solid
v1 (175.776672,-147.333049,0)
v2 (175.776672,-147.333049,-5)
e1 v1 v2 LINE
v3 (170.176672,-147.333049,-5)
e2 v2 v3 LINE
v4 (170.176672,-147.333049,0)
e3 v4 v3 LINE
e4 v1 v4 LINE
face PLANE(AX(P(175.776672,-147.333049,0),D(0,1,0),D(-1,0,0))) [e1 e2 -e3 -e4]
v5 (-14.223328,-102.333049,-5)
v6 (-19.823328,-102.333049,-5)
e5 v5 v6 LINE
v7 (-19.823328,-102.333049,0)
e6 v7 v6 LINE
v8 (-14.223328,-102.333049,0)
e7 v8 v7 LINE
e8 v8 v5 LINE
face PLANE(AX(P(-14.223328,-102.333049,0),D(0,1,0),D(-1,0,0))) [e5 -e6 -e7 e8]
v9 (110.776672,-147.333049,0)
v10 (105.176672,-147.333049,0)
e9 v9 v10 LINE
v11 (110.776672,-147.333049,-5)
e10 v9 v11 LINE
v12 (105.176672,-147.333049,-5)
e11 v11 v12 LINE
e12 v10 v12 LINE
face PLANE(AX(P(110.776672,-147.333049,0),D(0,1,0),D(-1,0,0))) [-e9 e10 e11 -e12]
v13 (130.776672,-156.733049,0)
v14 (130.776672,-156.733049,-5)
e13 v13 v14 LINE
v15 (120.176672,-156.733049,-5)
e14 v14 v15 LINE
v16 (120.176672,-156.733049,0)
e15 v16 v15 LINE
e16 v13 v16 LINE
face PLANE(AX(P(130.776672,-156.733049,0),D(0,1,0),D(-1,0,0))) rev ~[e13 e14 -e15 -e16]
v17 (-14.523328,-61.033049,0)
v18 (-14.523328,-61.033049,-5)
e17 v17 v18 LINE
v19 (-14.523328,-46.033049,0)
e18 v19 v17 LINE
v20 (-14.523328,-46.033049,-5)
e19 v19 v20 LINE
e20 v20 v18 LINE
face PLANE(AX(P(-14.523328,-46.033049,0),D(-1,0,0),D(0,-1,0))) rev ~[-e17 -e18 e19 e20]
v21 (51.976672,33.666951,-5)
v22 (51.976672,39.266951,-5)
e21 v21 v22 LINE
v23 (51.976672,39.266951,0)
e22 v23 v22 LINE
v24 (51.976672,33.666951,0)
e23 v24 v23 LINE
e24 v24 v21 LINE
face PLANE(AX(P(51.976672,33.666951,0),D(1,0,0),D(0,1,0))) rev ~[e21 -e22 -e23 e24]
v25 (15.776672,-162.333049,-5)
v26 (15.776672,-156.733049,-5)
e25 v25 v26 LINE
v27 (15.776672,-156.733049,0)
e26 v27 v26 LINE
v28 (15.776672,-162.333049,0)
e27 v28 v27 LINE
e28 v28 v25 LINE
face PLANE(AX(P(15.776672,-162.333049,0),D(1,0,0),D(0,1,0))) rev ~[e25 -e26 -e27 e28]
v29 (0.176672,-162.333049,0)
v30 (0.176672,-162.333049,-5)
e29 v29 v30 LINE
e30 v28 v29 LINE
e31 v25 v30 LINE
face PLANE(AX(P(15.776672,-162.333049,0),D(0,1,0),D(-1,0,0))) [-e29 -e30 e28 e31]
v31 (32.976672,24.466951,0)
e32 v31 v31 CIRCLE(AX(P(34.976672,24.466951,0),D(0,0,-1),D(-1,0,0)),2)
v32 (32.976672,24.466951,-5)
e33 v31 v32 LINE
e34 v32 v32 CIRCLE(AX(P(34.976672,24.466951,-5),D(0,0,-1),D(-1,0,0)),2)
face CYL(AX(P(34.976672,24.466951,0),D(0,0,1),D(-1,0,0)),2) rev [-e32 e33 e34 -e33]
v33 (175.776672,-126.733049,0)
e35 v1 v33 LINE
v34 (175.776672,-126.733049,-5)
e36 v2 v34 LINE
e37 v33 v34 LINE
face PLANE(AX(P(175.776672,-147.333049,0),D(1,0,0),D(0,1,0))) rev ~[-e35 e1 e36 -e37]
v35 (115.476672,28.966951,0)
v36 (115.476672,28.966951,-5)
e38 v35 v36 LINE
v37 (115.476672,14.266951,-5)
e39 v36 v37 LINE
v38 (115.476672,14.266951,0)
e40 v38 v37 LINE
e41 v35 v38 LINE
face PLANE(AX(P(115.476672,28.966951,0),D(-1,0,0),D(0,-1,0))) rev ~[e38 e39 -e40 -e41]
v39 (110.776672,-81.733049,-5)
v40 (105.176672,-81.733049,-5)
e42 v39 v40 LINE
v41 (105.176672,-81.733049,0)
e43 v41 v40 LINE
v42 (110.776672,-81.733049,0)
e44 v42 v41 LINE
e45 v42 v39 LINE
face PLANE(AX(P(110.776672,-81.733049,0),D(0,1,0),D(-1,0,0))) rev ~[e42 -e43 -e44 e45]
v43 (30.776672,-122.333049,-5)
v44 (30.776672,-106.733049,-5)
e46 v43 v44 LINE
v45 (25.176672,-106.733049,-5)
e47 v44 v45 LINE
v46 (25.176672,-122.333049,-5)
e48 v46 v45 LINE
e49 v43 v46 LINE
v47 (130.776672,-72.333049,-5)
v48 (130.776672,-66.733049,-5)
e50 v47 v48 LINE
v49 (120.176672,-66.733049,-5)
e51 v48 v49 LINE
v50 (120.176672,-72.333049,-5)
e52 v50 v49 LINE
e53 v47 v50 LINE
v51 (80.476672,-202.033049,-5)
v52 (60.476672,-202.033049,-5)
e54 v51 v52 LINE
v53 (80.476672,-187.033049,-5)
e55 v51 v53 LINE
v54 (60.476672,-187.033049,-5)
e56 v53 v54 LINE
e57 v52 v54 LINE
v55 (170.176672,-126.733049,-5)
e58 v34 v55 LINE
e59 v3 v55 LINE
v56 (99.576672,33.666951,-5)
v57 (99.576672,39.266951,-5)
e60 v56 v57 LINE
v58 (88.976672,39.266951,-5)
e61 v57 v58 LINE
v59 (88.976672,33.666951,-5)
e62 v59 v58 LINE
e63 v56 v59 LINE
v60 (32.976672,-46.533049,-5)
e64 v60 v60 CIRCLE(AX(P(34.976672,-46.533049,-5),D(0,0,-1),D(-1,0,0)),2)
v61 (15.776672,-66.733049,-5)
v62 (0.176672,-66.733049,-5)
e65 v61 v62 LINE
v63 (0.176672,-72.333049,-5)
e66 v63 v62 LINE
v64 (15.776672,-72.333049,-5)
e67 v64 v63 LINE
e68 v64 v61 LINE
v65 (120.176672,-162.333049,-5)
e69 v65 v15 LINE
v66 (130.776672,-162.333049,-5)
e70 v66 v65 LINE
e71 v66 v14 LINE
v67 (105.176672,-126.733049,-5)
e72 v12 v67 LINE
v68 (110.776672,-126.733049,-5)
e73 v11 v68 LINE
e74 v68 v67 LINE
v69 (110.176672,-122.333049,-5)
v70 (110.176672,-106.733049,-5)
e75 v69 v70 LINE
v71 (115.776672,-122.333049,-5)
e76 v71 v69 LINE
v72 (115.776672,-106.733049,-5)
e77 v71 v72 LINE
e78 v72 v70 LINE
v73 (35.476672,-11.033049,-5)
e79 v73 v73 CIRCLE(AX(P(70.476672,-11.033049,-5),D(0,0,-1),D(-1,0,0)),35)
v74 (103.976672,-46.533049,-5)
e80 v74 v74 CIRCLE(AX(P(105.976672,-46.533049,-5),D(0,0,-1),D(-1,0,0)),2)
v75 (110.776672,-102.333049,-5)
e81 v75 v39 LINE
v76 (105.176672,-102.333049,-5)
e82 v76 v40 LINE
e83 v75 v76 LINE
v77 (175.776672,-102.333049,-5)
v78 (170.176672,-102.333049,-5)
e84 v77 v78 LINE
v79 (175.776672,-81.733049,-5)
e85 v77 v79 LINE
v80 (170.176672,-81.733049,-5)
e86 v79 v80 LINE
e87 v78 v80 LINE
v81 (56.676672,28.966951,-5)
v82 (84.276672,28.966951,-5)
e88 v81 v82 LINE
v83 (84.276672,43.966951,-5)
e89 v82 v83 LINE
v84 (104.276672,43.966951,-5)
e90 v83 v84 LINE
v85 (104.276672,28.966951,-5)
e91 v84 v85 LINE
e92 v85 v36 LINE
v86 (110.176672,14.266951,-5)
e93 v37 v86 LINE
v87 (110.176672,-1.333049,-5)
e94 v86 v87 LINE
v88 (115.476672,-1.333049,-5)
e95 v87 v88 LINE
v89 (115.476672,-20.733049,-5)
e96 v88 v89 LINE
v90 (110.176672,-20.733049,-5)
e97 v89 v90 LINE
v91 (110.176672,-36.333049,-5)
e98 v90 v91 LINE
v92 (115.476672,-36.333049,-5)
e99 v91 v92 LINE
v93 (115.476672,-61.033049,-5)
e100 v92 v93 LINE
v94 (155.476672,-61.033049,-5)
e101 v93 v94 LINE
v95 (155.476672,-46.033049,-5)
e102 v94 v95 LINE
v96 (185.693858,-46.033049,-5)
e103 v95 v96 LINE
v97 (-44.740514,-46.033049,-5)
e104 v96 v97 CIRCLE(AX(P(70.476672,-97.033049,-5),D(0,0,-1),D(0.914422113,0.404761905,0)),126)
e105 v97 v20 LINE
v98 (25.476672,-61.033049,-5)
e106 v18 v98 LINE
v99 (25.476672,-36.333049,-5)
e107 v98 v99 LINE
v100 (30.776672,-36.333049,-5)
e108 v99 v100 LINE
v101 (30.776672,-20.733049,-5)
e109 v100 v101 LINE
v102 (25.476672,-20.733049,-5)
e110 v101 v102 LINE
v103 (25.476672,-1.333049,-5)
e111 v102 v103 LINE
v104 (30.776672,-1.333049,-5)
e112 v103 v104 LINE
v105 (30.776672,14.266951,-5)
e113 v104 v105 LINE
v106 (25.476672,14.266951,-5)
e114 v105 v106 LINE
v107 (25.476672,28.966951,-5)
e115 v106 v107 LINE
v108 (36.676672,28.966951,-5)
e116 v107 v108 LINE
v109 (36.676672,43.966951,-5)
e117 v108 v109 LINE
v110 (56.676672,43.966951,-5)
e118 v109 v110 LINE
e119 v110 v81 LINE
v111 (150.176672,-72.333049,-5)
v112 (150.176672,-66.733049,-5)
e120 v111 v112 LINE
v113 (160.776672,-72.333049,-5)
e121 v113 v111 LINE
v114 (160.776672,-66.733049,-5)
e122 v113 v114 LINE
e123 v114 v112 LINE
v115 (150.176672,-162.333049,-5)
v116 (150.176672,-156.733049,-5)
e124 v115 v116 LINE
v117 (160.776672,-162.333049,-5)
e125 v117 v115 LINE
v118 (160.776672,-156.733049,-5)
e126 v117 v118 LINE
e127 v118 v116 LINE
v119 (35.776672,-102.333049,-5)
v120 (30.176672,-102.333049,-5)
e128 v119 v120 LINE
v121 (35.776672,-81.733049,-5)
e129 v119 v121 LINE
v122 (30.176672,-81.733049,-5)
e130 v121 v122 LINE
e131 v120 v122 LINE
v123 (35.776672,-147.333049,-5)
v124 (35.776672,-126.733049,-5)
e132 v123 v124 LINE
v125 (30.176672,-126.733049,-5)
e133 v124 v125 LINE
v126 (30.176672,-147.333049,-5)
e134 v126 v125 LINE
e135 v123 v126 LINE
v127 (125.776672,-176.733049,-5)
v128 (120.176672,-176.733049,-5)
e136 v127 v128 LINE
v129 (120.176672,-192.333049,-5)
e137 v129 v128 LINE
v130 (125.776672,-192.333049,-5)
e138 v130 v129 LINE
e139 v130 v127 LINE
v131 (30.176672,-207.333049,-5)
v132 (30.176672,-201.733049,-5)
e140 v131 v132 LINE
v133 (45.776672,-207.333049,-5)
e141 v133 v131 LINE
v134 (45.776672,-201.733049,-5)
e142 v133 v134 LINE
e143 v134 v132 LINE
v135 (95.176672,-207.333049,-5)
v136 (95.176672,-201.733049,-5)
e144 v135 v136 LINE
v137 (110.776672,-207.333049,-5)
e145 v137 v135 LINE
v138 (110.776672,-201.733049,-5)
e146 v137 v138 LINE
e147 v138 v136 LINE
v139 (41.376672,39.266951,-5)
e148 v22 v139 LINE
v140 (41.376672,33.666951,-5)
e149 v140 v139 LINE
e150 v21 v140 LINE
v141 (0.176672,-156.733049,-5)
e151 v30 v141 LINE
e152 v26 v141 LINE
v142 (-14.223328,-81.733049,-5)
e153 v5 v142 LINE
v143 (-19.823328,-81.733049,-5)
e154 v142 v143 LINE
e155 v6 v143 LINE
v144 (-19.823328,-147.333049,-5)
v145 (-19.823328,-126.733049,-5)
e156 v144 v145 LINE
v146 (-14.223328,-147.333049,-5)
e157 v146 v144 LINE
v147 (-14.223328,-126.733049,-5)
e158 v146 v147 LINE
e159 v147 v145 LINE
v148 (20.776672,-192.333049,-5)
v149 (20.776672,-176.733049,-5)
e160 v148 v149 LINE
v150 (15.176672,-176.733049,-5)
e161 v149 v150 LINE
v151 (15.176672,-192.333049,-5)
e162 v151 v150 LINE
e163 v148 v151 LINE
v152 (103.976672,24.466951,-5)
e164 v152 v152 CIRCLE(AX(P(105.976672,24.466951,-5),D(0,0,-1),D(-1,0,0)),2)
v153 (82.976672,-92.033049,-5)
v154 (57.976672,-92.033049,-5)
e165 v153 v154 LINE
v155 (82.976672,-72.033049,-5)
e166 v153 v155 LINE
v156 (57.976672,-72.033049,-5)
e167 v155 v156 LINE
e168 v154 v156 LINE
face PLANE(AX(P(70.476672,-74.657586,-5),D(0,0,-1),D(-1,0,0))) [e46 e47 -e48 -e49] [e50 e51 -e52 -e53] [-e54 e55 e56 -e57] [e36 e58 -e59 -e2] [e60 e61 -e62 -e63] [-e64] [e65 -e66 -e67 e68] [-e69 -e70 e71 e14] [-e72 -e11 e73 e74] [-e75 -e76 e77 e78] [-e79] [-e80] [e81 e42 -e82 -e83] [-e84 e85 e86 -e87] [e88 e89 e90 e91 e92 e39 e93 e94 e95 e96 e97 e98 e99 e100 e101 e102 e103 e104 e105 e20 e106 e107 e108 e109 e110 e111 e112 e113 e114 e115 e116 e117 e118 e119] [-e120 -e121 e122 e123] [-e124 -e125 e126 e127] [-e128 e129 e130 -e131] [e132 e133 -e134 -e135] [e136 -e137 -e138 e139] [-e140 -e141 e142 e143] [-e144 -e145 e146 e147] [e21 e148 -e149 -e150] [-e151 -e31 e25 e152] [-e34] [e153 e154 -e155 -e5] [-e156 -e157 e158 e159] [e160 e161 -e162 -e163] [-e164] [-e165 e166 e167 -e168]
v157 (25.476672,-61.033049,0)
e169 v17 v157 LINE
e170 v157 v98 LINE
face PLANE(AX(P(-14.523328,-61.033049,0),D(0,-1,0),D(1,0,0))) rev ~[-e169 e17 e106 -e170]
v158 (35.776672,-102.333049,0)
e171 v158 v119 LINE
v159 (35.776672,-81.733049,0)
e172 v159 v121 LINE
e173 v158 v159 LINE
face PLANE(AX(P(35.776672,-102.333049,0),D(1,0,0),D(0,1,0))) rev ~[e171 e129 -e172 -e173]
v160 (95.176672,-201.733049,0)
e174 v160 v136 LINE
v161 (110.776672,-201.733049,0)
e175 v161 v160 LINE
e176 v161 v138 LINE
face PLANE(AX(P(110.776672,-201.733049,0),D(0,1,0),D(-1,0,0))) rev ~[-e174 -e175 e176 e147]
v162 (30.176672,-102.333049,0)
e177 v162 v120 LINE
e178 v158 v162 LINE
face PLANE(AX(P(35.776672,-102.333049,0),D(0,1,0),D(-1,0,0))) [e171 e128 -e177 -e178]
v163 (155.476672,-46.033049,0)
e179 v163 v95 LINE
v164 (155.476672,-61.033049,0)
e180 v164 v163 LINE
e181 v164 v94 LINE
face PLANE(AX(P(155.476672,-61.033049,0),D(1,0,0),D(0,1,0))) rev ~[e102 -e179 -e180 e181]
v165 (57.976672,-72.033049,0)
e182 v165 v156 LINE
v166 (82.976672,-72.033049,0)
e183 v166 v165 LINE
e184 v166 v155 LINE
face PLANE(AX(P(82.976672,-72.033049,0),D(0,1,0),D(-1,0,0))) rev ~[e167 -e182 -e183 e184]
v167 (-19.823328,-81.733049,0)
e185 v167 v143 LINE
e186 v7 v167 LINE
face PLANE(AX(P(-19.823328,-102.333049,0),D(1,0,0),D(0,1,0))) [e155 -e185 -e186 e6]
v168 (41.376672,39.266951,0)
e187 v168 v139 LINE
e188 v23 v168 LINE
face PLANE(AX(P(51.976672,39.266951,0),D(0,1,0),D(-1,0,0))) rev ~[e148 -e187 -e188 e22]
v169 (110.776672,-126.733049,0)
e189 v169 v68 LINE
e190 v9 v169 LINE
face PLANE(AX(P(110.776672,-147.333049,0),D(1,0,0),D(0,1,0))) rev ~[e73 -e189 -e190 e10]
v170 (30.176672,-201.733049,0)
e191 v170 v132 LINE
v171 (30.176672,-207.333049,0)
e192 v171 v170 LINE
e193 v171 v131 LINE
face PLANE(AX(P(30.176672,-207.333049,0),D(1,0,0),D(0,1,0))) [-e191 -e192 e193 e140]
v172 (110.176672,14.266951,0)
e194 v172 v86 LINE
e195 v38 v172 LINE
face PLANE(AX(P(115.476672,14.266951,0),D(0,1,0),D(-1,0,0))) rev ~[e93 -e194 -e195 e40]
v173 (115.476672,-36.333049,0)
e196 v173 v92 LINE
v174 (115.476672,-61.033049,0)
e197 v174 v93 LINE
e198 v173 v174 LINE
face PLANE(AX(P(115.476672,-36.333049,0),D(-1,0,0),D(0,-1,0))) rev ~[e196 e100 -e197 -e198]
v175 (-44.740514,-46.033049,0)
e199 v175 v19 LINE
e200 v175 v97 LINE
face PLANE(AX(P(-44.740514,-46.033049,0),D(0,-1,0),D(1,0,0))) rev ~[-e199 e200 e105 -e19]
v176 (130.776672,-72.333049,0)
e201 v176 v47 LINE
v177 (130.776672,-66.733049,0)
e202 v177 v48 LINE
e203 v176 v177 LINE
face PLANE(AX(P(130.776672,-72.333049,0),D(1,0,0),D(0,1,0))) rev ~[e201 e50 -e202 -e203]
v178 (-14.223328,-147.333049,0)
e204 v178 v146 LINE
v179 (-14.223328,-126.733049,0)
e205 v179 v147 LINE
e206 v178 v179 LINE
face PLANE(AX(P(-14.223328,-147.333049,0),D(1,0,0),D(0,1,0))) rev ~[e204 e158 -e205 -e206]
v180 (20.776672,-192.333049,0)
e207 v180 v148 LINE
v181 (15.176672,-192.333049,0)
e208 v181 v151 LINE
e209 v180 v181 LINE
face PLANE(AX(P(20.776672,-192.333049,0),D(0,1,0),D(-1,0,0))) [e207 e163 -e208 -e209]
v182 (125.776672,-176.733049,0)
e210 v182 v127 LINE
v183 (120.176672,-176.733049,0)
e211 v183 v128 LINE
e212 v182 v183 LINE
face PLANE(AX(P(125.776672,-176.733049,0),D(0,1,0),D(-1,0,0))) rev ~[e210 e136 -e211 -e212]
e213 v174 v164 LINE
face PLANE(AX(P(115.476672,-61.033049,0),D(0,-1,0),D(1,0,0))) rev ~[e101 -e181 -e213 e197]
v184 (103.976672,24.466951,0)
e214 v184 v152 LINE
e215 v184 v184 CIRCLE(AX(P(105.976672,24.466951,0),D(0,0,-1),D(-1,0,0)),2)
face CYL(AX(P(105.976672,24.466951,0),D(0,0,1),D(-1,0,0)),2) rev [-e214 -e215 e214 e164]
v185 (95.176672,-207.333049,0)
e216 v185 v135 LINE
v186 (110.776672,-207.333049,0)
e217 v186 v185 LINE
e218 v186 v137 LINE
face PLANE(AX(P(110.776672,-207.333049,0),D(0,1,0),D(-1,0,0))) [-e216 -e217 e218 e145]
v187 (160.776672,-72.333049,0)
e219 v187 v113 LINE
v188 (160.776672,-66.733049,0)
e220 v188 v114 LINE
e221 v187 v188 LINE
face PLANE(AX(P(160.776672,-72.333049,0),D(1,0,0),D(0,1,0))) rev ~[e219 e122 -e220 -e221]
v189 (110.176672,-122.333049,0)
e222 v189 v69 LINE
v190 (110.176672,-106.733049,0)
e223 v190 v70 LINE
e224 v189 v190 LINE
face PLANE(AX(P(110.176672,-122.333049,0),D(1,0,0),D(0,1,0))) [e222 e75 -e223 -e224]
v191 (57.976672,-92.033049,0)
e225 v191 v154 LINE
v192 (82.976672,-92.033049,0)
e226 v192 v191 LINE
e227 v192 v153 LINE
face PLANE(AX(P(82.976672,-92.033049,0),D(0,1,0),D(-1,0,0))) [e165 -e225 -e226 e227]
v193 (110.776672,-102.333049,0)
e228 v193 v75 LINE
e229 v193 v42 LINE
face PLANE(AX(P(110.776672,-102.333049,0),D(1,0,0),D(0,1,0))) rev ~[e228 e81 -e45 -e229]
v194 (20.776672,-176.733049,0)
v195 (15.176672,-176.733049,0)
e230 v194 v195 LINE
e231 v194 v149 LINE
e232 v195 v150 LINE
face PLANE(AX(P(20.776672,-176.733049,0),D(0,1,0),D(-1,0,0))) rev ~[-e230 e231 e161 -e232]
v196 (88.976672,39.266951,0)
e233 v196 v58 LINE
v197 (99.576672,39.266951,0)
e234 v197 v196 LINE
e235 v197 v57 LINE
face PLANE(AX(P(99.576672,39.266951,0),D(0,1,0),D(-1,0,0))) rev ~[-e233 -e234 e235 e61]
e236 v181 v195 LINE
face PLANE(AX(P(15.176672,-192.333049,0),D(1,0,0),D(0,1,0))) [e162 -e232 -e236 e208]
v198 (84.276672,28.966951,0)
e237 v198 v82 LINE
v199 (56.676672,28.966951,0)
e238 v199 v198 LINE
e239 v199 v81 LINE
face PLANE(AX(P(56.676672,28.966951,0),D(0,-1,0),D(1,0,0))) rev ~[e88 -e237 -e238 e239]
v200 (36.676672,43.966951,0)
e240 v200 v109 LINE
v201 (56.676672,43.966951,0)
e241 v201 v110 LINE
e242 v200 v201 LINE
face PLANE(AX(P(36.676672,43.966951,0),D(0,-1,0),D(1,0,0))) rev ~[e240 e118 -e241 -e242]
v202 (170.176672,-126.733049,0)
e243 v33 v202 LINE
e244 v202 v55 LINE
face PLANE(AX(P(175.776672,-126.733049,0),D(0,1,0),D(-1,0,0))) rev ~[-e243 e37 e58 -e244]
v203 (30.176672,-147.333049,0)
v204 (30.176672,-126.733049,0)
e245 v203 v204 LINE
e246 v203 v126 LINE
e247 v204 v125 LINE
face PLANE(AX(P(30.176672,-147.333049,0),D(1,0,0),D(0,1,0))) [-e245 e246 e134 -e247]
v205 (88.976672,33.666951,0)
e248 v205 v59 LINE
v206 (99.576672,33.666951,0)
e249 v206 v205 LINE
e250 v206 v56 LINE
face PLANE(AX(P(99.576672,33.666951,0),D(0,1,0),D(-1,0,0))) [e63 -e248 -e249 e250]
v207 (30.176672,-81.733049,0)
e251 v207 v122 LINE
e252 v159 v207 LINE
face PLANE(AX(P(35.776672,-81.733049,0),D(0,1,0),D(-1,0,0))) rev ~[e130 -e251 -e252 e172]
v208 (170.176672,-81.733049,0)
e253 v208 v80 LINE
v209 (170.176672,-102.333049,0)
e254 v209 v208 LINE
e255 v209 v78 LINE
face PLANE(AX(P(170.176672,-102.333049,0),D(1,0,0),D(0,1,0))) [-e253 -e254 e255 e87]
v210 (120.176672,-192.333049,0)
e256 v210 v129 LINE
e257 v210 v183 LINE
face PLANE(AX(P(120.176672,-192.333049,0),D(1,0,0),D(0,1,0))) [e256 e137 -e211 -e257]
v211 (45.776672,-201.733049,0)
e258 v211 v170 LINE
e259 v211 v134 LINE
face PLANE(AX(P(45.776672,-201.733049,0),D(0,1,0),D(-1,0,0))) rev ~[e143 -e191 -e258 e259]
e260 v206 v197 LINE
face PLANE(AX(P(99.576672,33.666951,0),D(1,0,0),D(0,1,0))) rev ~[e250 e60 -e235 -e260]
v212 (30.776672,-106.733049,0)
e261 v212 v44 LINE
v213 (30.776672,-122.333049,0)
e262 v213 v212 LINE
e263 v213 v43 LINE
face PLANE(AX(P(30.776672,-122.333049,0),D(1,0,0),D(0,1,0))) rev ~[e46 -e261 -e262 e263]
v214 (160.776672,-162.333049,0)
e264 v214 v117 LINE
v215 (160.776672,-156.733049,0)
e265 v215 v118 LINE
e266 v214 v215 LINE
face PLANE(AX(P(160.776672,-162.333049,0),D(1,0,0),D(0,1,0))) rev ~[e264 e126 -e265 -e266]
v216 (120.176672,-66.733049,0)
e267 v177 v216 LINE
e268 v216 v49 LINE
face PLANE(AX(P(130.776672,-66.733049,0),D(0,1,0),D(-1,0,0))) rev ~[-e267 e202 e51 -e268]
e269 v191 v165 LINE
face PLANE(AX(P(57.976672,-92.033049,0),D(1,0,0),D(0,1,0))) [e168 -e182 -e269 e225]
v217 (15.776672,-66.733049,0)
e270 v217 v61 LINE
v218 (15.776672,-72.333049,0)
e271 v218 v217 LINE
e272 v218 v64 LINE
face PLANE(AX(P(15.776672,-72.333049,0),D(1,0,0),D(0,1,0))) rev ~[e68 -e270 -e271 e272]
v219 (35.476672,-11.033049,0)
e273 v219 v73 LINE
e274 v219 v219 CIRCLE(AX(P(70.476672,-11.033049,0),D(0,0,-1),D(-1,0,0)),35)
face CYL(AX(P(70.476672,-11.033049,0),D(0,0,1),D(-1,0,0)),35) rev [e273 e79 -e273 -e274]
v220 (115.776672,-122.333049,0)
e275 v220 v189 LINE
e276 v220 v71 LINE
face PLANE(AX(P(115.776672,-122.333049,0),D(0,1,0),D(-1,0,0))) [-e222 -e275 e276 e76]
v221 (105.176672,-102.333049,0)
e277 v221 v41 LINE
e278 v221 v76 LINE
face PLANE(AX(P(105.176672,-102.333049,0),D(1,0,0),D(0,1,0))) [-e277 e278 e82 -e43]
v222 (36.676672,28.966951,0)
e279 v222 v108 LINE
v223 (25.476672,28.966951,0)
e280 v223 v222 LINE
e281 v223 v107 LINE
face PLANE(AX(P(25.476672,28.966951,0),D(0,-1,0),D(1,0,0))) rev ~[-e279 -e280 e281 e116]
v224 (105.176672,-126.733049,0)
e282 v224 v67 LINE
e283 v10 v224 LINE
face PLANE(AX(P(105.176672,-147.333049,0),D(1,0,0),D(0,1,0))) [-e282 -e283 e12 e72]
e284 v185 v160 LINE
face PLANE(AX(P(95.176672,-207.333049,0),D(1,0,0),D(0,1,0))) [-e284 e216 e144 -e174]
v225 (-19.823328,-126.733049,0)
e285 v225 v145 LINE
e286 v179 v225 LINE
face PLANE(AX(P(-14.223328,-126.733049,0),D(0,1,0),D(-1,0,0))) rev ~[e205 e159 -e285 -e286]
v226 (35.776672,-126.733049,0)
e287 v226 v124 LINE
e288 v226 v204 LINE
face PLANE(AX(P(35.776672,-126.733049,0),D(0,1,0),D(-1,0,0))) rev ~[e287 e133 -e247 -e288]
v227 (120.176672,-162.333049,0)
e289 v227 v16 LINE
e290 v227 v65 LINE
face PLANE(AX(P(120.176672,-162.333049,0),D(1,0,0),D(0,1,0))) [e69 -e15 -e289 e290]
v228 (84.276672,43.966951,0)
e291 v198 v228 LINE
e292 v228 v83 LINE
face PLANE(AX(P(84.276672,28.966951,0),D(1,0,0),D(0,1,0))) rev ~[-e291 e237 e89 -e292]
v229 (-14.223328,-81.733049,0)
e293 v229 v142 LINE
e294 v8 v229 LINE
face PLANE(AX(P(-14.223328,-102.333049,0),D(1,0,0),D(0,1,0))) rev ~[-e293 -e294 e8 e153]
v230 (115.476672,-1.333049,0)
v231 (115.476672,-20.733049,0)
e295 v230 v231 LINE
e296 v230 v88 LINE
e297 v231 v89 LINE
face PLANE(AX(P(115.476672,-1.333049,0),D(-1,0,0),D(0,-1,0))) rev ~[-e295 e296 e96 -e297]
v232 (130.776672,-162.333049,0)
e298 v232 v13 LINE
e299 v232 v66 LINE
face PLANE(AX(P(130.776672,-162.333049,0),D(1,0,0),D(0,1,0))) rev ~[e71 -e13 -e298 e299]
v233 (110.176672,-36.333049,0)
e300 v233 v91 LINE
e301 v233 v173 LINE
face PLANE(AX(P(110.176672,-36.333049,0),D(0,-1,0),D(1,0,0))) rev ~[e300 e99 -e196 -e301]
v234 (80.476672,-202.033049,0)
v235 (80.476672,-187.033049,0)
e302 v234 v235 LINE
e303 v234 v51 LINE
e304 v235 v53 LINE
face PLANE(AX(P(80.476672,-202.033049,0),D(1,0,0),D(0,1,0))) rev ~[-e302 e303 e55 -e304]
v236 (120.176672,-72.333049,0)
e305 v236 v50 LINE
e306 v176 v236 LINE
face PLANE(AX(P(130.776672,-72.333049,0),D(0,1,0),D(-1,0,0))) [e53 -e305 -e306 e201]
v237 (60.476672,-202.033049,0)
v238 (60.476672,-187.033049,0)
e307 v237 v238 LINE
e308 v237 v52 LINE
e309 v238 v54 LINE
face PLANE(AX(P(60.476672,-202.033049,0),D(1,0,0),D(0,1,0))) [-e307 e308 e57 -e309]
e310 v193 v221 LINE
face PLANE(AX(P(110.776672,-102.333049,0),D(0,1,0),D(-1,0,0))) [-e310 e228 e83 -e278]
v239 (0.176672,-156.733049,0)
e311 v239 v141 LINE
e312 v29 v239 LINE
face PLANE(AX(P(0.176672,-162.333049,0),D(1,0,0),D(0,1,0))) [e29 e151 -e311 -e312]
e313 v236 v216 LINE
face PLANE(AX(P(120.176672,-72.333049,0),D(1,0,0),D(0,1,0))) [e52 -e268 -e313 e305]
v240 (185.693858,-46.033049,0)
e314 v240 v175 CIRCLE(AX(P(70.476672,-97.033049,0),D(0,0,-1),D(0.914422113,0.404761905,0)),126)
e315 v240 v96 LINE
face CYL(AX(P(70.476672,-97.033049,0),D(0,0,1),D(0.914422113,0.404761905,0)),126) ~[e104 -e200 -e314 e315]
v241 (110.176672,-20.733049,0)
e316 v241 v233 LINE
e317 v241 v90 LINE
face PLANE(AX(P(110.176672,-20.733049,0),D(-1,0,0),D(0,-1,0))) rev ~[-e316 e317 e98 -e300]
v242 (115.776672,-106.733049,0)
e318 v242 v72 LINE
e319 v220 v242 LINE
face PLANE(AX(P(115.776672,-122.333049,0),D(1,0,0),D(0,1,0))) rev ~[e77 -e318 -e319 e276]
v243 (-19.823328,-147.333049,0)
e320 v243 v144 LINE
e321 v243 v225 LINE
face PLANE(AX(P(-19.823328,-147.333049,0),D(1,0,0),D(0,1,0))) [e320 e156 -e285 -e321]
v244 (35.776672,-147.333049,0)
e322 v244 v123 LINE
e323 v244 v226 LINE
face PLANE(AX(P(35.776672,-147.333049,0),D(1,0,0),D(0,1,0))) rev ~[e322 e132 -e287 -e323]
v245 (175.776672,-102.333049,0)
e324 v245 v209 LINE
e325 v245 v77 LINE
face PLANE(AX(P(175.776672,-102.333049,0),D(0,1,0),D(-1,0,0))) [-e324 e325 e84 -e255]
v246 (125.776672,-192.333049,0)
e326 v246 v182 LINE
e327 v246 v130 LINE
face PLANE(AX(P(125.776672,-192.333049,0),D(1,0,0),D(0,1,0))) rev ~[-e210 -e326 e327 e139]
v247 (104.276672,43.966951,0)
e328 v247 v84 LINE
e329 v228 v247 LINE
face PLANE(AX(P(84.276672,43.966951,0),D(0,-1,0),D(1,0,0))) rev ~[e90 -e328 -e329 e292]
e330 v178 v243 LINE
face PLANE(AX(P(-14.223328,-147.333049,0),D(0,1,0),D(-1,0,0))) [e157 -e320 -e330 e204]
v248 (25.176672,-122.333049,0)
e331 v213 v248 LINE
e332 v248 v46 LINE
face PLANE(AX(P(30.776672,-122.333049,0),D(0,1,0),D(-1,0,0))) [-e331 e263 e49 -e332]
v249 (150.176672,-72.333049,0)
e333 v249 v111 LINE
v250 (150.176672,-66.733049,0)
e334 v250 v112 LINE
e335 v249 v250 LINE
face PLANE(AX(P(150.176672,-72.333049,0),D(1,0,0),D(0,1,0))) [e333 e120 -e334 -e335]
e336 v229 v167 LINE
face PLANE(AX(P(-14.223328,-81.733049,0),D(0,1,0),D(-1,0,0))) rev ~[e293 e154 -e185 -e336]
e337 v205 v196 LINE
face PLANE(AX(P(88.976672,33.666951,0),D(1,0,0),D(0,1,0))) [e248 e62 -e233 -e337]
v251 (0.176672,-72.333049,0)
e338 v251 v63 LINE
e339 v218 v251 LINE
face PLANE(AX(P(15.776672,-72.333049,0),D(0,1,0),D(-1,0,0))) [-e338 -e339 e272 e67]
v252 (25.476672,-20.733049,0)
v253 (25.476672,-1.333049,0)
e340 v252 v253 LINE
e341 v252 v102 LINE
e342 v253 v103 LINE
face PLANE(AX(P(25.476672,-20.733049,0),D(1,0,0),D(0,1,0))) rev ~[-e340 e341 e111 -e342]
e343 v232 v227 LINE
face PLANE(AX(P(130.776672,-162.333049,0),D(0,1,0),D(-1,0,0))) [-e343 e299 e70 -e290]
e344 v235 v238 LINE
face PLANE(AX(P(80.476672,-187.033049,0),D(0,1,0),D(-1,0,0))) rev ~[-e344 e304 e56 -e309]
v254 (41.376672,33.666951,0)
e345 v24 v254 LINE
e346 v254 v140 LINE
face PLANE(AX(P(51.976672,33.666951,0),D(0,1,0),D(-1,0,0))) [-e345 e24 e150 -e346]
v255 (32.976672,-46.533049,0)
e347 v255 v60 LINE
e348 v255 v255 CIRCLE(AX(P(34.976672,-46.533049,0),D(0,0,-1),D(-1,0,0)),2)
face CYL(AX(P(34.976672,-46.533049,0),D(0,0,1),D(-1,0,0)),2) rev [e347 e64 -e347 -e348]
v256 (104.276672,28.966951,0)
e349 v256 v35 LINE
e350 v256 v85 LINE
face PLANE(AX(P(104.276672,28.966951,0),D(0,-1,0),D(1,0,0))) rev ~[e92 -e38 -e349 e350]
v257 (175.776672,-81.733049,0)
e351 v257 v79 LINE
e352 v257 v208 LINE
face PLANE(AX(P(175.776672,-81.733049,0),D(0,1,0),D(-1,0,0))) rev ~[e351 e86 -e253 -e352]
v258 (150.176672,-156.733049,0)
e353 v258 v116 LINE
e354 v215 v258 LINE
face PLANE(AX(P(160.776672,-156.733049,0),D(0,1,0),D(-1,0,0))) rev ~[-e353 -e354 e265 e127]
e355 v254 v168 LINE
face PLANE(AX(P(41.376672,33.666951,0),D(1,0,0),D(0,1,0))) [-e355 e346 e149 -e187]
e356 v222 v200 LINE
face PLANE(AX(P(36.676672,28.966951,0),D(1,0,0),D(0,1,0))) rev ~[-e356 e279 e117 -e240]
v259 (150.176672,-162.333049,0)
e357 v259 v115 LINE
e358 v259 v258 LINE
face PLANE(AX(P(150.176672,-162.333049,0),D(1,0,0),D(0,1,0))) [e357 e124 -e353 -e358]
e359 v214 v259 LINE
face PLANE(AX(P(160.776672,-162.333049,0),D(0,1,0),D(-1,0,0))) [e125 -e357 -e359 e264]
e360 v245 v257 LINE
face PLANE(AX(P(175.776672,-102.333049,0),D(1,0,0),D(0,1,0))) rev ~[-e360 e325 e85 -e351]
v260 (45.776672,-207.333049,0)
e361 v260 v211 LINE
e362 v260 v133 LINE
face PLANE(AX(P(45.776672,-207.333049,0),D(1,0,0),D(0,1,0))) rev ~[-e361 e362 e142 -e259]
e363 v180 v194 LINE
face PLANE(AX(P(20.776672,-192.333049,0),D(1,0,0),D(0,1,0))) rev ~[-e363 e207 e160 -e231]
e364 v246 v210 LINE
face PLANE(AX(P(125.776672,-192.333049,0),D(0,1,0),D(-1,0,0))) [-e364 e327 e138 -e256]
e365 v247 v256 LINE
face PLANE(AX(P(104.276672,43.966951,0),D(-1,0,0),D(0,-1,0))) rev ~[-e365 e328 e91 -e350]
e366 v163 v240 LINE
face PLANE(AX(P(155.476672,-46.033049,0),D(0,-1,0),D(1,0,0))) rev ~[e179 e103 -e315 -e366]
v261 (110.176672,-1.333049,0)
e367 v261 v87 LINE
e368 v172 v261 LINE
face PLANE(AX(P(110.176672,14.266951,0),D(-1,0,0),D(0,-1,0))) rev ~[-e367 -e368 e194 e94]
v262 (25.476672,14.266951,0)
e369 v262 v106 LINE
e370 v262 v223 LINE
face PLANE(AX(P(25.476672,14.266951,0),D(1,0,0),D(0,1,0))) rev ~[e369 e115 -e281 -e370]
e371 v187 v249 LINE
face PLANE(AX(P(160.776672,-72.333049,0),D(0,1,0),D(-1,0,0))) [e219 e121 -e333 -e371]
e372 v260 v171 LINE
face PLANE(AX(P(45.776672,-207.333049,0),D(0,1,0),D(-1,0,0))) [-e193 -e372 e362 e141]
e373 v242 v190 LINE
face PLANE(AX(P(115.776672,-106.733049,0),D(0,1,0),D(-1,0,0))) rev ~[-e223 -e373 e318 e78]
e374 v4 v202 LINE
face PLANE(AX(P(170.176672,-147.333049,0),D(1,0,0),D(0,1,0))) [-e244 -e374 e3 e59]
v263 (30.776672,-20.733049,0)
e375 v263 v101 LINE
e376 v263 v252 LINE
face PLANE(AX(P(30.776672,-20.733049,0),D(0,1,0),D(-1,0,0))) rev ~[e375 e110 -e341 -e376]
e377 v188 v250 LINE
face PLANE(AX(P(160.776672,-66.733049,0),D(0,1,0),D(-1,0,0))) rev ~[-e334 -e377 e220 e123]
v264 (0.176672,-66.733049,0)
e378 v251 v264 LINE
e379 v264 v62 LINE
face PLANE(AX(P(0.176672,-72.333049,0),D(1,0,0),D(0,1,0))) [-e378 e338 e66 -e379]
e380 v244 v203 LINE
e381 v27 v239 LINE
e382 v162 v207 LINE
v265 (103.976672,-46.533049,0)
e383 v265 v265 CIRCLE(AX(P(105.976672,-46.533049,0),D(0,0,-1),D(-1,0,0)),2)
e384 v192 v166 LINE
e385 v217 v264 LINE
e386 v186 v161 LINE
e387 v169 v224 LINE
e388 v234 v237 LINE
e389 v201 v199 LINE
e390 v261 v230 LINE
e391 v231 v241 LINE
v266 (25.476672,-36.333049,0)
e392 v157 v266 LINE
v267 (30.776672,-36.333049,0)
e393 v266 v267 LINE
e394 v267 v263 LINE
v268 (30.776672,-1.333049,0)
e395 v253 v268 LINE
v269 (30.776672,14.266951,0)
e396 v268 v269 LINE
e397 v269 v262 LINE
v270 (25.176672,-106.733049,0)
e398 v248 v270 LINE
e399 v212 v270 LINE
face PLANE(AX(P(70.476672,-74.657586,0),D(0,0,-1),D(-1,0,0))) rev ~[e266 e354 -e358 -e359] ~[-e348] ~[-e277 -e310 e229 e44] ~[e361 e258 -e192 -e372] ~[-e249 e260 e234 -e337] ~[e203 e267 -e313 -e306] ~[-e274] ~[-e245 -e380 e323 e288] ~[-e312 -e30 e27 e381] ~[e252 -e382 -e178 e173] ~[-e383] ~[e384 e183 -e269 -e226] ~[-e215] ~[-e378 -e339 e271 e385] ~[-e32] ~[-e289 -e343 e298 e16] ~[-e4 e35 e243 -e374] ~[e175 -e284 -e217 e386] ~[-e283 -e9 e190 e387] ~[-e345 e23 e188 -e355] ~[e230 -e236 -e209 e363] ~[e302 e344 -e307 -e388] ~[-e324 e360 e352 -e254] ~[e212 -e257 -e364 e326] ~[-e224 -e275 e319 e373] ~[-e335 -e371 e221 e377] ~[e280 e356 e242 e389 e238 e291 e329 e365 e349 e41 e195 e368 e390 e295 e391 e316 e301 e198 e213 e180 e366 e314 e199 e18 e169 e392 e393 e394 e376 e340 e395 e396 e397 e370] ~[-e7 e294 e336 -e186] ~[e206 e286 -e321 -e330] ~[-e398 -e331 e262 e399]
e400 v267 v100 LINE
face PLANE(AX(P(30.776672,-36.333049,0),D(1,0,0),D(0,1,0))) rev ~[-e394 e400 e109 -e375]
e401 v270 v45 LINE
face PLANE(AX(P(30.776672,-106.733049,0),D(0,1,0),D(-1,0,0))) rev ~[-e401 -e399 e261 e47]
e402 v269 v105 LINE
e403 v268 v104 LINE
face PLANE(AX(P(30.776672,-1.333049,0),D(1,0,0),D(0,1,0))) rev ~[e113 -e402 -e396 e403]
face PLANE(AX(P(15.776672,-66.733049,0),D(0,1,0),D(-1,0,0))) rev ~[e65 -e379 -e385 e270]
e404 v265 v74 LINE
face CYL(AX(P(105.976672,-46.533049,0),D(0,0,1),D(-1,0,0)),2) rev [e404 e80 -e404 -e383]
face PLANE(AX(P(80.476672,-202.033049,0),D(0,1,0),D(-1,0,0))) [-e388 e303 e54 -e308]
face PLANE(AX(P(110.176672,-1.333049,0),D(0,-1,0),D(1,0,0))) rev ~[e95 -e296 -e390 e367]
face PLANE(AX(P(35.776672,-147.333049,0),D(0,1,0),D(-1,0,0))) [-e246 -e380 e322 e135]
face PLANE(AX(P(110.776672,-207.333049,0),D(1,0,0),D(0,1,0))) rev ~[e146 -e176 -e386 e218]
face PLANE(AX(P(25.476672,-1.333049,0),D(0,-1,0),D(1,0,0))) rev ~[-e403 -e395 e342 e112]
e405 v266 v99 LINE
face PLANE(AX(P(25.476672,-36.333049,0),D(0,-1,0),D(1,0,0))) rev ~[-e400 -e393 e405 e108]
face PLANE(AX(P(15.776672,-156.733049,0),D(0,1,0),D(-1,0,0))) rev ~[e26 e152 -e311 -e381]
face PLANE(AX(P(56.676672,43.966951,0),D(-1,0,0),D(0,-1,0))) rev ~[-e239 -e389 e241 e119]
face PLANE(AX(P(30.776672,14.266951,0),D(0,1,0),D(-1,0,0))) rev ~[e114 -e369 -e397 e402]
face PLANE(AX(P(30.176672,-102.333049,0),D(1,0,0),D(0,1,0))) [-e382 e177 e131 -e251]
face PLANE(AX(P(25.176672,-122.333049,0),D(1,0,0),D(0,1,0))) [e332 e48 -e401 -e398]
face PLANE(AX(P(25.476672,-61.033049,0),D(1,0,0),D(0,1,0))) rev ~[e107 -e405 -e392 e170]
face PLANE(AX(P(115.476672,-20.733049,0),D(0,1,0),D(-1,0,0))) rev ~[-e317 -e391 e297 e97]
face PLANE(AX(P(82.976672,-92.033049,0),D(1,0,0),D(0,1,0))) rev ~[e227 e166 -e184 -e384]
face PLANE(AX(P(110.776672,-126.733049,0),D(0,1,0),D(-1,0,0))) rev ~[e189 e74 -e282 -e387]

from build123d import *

# Parameters (mm, degrees)
SKETCH1_R           = 35
SKETCH1_R_2         = 2
SKETCH1_W           = 20
SKETCH1_H           = 15
SKETCH1_W_2         = 25
SKETCH1_H_2         = 20
SKETCH1_W_3         = 10.6
SKETCH1_H_3         = 5.6
SKETCH1_W_4         = 15.6
SKETCH1_W_5         = 5.6
SKETCH1_H_4         = 20.6
SKETCH1_H_5         = 15.6
BOSS_EXTRUDE1_DEPTH = 5


with BuildPart() as part:
    # Sketch1 → Boss-Extrude1 (new body)
    with BuildSketch(Plane(origin=(0, 0, 0), x_dir=(-1, 0, 0), z_dir=(0, 0, -1))):
        with BuildLine():
            Line((-25.476672243, 28.966950724), (-36.676672243, 28.966950724))
            Line((-36.676672243, 28.966950724), (-36.676672243, 43.966950724))
            Line((-36.676672243, 43.966950724), (-56.676672243, 43.966950724))
            Line((-56.676672243, 43.966950724), (-56.676672243, 28.966950724))
            Line((-56.676672243, 28.966950724), (-84.276672243, 28.966950724))
            Line((-84.276672243, 28.966950724), (-84.276672243, 43.966950724))
            Line((-84.276672243, 43.966950724), (-104.276672243, 43.966950724))
            Line((-104.276672243, 43.966950724), (-104.276672243, 28.966950724))
            Line((-104.276672243, 28.966950724), (-115.476672243, 28.966950724))
            Line((-115.476672243, 28.966950724), (-115.476672243, 14.266950724))
            Line((-115.476672243, 14.266950724), (-110.176672243, 14.266950724))
            Line((-110.176672243, 14.266950724), (-110.176672243, -1.333049276))
            Line((-110.176672243, -1.333049276), (-115.476672243, -1.333049276))
            Line((-115.476672243, -1.333049276), (-115.476672243, -20.733049276))
            Line((-115.476672243, -20.733049276), (-110.176672243, -20.733049276))
            Line((-110.176672243, -20.733049276), (-110.176672243, -36.333049276))
            Line((-110.176672243, -36.333049276), (-115.476672243, -36.333049276))
            Line((-115.476672243, -36.333049276), (-115.476672243, -61.033049276))
            Line((-115.476672243, -61.033049276), (-155.476672243, -61.033049276))
            Line((-155.476672243, -61.033049276), (-155.476672243, -46.033049276))
            Line((-155.476672243, -46.033049276), (-185.693858461, -46.033049276))
            ThreePointArc((-185.693858461, -46.033049276), (-70.476672243, -223.033049276), (44.740513975, -46.033049276))
            Line((44.740513975, -46.033049276), (14.523327757, -46.033049276))
            Line((14.523327757, -46.033049276), (14.523327757, -61.033049276))
            Line((14.523327757, -61.033049276), (-25.476672243, -61.033049276))
            Line((-25.476672243, -61.033049276), (-25.476672243, -36.333049276))
            Line((-25.476672243, -36.333049276), (-30.776672243, -36.333049276))
            Line((-30.776672243, -36.333049276), (-30.776672243, -20.733049276))
            Line((-30.776672243, -20.733049276), (-25.476672243, -20.733049276))
            Line((-25.476672243, -20.733049276), (-25.476672243, -1.333049276))
            Line((-25.476672243, -1.333049276), (-30.776672243, -1.333049276))
            Line((-30.776672243, -1.333049276), (-30.776672243, 14.266950724))
            Line((-30.776672243, 14.266950724), (-25.476672243, 14.266950724))
            Line((-25.476672243, 14.266950724), (-25.476672243, 28.966950724))
        make_face()
        with Locations((-70.476672243, -11.033049276)):
            Circle(SKETCH1_R, mode=Mode.SUBTRACT)
        with Locations((-34.976672243, 24.466950724)):
            Circle(SKETCH1_R_2, mode=Mode.SUBTRACT)
        with Locations((-105.976672243, 24.466950724)):
            Circle(SKETCH1_R_2, mode=Mode.SUBTRACT)
        with Locations((-105.976672243, -46.533049276)):
            Circle(SKETCH1_R_2, mode=Mode.SUBTRACT)
        with Locations((-34.976672243, -46.533049276)):
            Circle(SKETCH1_R_2, mode=Mode.SUBTRACT)
        with Locations((-70.476672243, -194.533049276)):
            Rectangle(SKETCH1_W, SKETCH1_H, mode=Mode.SUBTRACT)
        with Locations((-70.476672243, -82.033049276)):
            Rectangle(SKETCH1_W_2, SKETCH1_H_2, mode=Mode.SUBTRACT)
        with Locations((-46.676672243, 36.466950724)):
            Rectangle(SKETCH1_W_3, SKETCH1_H_3, mode=Mode.SUBTRACT)
        with Locations((-94.276672243, 36.466950724)):
            Rectangle(SKETCH1_W_3, SKETCH1_H_3, mode=Mode.SUBTRACT)
        with Locations((-7.976672243, -69.533049276)):
            Rectangle(SKETCH1_W_4, SKETCH1_H_3, mode=Mode.SUBTRACT)
        with Locations((17.023327757, -92.033049276)):
            Rectangle(SKETCH1_W_5, SKETCH1_H_4, mode=Mode.SUBTRACT)
        with Locations((-32.976672243, -92.033049276)):
            Rectangle(SKETCH1_W_5, SKETCH1_H_4, mode=Mode.SUBTRACT)
        with Locations((-27.976672243, -114.533049276)):
            Rectangle(SKETCH1_W_5, SKETCH1_H_5, mode=Mode.SUBTRACT)
        with Locations((17.023327757, -137.033049276)):
            Rectangle(SKETCH1_W_5, SKETCH1_H_4, mode=Mode.SUBTRACT)
        with Locations((-7.976672243, -159.533049276)):
            Rectangle(SKETCH1_W_4, SKETCH1_H_3, mode=Mode.SUBTRACT)
        with Locations((-32.976672243, -137.033049276)):
            Rectangle(SKETCH1_W_5, SKETCH1_H_4, mode=Mode.SUBTRACT)
        with Locations((-17.976672243, -184.533049276)):
            Rectangle(SKETCH1_W_5, SKETCH1_H_5, mode=Mode.SUBTRACT)
        with Locations((-37.976672243, -204.533049276)):
            Rectangle(SKETCH1_W_4, SKETCH1_H_3, mode=Mode.SUBTRACT)
        with Locations((-102.976672243, -204.533049276)):
            Rectangle(SKETCH1_W_4, SKETCH1_H_3, mode=Mode.SUBTRACT)
        with Locations((-122.976672243, -184.533049276)):
            Rectangle(SKETCH1_W_5, SKETCH1_H_5, mode=Mode.SUBTRACT)
        with Locations((-125.476672243, -159.533049276)):
            Rectangle(SKETCH1_W_3, SKETCH1_H_3, mode=Mode.SUBTRACT)
        with Locations((-155.476672243, -159.533049276)):
            Rectangle(SKETCH1_W_3, SKETCH1_H_3, mode=Mode.SUBTRACT)
        with Locations((-107.976672243, -137.033049276)):
            Rectangle(SKETCH1_W_5, SKETCH1_H_4, mode=Mode.SUBTRACT)
        with Locations((-172.976672243, -137.033049276)):
            Rectangle(SKETCH1_W_5, SKETCH1_H_4, mode=Mode.SUBTRACT)
        with Locations((-112.976672243, -114.533049276)):
            Rectangle(SKETCH1_W_5, SKETCH1_H_5, mode=Mode.SUBTRACT)
        with Locations((-107.976672243, -92.033049276)):
            Rectangle(SKETCH1_W_5, SKETCH1_H_4, mode=Mode.SUBTRACT)
        with Locations((-172.976672243, -92.033049276)):
            Rectangle(SKETCH1_W_5, SKETCH1_H_4, mode=Mode.SUBTRACT)
        with Locations((-125.476672243, -69.533049276)):
            Rectangle(SKETCH1_W_3, SKETCH1_H_3, mode=Mode.SUBTRACT)
        with Locations((-155.476672243, -69.533049276)):
            Rectangle(SKETCH1_W_3, SKETCH1_H_3, mode=Mode.SUBTRACT)
    extrude(amount=BOSS_EXTRUDE1_DEPTH)


solid = part.part
